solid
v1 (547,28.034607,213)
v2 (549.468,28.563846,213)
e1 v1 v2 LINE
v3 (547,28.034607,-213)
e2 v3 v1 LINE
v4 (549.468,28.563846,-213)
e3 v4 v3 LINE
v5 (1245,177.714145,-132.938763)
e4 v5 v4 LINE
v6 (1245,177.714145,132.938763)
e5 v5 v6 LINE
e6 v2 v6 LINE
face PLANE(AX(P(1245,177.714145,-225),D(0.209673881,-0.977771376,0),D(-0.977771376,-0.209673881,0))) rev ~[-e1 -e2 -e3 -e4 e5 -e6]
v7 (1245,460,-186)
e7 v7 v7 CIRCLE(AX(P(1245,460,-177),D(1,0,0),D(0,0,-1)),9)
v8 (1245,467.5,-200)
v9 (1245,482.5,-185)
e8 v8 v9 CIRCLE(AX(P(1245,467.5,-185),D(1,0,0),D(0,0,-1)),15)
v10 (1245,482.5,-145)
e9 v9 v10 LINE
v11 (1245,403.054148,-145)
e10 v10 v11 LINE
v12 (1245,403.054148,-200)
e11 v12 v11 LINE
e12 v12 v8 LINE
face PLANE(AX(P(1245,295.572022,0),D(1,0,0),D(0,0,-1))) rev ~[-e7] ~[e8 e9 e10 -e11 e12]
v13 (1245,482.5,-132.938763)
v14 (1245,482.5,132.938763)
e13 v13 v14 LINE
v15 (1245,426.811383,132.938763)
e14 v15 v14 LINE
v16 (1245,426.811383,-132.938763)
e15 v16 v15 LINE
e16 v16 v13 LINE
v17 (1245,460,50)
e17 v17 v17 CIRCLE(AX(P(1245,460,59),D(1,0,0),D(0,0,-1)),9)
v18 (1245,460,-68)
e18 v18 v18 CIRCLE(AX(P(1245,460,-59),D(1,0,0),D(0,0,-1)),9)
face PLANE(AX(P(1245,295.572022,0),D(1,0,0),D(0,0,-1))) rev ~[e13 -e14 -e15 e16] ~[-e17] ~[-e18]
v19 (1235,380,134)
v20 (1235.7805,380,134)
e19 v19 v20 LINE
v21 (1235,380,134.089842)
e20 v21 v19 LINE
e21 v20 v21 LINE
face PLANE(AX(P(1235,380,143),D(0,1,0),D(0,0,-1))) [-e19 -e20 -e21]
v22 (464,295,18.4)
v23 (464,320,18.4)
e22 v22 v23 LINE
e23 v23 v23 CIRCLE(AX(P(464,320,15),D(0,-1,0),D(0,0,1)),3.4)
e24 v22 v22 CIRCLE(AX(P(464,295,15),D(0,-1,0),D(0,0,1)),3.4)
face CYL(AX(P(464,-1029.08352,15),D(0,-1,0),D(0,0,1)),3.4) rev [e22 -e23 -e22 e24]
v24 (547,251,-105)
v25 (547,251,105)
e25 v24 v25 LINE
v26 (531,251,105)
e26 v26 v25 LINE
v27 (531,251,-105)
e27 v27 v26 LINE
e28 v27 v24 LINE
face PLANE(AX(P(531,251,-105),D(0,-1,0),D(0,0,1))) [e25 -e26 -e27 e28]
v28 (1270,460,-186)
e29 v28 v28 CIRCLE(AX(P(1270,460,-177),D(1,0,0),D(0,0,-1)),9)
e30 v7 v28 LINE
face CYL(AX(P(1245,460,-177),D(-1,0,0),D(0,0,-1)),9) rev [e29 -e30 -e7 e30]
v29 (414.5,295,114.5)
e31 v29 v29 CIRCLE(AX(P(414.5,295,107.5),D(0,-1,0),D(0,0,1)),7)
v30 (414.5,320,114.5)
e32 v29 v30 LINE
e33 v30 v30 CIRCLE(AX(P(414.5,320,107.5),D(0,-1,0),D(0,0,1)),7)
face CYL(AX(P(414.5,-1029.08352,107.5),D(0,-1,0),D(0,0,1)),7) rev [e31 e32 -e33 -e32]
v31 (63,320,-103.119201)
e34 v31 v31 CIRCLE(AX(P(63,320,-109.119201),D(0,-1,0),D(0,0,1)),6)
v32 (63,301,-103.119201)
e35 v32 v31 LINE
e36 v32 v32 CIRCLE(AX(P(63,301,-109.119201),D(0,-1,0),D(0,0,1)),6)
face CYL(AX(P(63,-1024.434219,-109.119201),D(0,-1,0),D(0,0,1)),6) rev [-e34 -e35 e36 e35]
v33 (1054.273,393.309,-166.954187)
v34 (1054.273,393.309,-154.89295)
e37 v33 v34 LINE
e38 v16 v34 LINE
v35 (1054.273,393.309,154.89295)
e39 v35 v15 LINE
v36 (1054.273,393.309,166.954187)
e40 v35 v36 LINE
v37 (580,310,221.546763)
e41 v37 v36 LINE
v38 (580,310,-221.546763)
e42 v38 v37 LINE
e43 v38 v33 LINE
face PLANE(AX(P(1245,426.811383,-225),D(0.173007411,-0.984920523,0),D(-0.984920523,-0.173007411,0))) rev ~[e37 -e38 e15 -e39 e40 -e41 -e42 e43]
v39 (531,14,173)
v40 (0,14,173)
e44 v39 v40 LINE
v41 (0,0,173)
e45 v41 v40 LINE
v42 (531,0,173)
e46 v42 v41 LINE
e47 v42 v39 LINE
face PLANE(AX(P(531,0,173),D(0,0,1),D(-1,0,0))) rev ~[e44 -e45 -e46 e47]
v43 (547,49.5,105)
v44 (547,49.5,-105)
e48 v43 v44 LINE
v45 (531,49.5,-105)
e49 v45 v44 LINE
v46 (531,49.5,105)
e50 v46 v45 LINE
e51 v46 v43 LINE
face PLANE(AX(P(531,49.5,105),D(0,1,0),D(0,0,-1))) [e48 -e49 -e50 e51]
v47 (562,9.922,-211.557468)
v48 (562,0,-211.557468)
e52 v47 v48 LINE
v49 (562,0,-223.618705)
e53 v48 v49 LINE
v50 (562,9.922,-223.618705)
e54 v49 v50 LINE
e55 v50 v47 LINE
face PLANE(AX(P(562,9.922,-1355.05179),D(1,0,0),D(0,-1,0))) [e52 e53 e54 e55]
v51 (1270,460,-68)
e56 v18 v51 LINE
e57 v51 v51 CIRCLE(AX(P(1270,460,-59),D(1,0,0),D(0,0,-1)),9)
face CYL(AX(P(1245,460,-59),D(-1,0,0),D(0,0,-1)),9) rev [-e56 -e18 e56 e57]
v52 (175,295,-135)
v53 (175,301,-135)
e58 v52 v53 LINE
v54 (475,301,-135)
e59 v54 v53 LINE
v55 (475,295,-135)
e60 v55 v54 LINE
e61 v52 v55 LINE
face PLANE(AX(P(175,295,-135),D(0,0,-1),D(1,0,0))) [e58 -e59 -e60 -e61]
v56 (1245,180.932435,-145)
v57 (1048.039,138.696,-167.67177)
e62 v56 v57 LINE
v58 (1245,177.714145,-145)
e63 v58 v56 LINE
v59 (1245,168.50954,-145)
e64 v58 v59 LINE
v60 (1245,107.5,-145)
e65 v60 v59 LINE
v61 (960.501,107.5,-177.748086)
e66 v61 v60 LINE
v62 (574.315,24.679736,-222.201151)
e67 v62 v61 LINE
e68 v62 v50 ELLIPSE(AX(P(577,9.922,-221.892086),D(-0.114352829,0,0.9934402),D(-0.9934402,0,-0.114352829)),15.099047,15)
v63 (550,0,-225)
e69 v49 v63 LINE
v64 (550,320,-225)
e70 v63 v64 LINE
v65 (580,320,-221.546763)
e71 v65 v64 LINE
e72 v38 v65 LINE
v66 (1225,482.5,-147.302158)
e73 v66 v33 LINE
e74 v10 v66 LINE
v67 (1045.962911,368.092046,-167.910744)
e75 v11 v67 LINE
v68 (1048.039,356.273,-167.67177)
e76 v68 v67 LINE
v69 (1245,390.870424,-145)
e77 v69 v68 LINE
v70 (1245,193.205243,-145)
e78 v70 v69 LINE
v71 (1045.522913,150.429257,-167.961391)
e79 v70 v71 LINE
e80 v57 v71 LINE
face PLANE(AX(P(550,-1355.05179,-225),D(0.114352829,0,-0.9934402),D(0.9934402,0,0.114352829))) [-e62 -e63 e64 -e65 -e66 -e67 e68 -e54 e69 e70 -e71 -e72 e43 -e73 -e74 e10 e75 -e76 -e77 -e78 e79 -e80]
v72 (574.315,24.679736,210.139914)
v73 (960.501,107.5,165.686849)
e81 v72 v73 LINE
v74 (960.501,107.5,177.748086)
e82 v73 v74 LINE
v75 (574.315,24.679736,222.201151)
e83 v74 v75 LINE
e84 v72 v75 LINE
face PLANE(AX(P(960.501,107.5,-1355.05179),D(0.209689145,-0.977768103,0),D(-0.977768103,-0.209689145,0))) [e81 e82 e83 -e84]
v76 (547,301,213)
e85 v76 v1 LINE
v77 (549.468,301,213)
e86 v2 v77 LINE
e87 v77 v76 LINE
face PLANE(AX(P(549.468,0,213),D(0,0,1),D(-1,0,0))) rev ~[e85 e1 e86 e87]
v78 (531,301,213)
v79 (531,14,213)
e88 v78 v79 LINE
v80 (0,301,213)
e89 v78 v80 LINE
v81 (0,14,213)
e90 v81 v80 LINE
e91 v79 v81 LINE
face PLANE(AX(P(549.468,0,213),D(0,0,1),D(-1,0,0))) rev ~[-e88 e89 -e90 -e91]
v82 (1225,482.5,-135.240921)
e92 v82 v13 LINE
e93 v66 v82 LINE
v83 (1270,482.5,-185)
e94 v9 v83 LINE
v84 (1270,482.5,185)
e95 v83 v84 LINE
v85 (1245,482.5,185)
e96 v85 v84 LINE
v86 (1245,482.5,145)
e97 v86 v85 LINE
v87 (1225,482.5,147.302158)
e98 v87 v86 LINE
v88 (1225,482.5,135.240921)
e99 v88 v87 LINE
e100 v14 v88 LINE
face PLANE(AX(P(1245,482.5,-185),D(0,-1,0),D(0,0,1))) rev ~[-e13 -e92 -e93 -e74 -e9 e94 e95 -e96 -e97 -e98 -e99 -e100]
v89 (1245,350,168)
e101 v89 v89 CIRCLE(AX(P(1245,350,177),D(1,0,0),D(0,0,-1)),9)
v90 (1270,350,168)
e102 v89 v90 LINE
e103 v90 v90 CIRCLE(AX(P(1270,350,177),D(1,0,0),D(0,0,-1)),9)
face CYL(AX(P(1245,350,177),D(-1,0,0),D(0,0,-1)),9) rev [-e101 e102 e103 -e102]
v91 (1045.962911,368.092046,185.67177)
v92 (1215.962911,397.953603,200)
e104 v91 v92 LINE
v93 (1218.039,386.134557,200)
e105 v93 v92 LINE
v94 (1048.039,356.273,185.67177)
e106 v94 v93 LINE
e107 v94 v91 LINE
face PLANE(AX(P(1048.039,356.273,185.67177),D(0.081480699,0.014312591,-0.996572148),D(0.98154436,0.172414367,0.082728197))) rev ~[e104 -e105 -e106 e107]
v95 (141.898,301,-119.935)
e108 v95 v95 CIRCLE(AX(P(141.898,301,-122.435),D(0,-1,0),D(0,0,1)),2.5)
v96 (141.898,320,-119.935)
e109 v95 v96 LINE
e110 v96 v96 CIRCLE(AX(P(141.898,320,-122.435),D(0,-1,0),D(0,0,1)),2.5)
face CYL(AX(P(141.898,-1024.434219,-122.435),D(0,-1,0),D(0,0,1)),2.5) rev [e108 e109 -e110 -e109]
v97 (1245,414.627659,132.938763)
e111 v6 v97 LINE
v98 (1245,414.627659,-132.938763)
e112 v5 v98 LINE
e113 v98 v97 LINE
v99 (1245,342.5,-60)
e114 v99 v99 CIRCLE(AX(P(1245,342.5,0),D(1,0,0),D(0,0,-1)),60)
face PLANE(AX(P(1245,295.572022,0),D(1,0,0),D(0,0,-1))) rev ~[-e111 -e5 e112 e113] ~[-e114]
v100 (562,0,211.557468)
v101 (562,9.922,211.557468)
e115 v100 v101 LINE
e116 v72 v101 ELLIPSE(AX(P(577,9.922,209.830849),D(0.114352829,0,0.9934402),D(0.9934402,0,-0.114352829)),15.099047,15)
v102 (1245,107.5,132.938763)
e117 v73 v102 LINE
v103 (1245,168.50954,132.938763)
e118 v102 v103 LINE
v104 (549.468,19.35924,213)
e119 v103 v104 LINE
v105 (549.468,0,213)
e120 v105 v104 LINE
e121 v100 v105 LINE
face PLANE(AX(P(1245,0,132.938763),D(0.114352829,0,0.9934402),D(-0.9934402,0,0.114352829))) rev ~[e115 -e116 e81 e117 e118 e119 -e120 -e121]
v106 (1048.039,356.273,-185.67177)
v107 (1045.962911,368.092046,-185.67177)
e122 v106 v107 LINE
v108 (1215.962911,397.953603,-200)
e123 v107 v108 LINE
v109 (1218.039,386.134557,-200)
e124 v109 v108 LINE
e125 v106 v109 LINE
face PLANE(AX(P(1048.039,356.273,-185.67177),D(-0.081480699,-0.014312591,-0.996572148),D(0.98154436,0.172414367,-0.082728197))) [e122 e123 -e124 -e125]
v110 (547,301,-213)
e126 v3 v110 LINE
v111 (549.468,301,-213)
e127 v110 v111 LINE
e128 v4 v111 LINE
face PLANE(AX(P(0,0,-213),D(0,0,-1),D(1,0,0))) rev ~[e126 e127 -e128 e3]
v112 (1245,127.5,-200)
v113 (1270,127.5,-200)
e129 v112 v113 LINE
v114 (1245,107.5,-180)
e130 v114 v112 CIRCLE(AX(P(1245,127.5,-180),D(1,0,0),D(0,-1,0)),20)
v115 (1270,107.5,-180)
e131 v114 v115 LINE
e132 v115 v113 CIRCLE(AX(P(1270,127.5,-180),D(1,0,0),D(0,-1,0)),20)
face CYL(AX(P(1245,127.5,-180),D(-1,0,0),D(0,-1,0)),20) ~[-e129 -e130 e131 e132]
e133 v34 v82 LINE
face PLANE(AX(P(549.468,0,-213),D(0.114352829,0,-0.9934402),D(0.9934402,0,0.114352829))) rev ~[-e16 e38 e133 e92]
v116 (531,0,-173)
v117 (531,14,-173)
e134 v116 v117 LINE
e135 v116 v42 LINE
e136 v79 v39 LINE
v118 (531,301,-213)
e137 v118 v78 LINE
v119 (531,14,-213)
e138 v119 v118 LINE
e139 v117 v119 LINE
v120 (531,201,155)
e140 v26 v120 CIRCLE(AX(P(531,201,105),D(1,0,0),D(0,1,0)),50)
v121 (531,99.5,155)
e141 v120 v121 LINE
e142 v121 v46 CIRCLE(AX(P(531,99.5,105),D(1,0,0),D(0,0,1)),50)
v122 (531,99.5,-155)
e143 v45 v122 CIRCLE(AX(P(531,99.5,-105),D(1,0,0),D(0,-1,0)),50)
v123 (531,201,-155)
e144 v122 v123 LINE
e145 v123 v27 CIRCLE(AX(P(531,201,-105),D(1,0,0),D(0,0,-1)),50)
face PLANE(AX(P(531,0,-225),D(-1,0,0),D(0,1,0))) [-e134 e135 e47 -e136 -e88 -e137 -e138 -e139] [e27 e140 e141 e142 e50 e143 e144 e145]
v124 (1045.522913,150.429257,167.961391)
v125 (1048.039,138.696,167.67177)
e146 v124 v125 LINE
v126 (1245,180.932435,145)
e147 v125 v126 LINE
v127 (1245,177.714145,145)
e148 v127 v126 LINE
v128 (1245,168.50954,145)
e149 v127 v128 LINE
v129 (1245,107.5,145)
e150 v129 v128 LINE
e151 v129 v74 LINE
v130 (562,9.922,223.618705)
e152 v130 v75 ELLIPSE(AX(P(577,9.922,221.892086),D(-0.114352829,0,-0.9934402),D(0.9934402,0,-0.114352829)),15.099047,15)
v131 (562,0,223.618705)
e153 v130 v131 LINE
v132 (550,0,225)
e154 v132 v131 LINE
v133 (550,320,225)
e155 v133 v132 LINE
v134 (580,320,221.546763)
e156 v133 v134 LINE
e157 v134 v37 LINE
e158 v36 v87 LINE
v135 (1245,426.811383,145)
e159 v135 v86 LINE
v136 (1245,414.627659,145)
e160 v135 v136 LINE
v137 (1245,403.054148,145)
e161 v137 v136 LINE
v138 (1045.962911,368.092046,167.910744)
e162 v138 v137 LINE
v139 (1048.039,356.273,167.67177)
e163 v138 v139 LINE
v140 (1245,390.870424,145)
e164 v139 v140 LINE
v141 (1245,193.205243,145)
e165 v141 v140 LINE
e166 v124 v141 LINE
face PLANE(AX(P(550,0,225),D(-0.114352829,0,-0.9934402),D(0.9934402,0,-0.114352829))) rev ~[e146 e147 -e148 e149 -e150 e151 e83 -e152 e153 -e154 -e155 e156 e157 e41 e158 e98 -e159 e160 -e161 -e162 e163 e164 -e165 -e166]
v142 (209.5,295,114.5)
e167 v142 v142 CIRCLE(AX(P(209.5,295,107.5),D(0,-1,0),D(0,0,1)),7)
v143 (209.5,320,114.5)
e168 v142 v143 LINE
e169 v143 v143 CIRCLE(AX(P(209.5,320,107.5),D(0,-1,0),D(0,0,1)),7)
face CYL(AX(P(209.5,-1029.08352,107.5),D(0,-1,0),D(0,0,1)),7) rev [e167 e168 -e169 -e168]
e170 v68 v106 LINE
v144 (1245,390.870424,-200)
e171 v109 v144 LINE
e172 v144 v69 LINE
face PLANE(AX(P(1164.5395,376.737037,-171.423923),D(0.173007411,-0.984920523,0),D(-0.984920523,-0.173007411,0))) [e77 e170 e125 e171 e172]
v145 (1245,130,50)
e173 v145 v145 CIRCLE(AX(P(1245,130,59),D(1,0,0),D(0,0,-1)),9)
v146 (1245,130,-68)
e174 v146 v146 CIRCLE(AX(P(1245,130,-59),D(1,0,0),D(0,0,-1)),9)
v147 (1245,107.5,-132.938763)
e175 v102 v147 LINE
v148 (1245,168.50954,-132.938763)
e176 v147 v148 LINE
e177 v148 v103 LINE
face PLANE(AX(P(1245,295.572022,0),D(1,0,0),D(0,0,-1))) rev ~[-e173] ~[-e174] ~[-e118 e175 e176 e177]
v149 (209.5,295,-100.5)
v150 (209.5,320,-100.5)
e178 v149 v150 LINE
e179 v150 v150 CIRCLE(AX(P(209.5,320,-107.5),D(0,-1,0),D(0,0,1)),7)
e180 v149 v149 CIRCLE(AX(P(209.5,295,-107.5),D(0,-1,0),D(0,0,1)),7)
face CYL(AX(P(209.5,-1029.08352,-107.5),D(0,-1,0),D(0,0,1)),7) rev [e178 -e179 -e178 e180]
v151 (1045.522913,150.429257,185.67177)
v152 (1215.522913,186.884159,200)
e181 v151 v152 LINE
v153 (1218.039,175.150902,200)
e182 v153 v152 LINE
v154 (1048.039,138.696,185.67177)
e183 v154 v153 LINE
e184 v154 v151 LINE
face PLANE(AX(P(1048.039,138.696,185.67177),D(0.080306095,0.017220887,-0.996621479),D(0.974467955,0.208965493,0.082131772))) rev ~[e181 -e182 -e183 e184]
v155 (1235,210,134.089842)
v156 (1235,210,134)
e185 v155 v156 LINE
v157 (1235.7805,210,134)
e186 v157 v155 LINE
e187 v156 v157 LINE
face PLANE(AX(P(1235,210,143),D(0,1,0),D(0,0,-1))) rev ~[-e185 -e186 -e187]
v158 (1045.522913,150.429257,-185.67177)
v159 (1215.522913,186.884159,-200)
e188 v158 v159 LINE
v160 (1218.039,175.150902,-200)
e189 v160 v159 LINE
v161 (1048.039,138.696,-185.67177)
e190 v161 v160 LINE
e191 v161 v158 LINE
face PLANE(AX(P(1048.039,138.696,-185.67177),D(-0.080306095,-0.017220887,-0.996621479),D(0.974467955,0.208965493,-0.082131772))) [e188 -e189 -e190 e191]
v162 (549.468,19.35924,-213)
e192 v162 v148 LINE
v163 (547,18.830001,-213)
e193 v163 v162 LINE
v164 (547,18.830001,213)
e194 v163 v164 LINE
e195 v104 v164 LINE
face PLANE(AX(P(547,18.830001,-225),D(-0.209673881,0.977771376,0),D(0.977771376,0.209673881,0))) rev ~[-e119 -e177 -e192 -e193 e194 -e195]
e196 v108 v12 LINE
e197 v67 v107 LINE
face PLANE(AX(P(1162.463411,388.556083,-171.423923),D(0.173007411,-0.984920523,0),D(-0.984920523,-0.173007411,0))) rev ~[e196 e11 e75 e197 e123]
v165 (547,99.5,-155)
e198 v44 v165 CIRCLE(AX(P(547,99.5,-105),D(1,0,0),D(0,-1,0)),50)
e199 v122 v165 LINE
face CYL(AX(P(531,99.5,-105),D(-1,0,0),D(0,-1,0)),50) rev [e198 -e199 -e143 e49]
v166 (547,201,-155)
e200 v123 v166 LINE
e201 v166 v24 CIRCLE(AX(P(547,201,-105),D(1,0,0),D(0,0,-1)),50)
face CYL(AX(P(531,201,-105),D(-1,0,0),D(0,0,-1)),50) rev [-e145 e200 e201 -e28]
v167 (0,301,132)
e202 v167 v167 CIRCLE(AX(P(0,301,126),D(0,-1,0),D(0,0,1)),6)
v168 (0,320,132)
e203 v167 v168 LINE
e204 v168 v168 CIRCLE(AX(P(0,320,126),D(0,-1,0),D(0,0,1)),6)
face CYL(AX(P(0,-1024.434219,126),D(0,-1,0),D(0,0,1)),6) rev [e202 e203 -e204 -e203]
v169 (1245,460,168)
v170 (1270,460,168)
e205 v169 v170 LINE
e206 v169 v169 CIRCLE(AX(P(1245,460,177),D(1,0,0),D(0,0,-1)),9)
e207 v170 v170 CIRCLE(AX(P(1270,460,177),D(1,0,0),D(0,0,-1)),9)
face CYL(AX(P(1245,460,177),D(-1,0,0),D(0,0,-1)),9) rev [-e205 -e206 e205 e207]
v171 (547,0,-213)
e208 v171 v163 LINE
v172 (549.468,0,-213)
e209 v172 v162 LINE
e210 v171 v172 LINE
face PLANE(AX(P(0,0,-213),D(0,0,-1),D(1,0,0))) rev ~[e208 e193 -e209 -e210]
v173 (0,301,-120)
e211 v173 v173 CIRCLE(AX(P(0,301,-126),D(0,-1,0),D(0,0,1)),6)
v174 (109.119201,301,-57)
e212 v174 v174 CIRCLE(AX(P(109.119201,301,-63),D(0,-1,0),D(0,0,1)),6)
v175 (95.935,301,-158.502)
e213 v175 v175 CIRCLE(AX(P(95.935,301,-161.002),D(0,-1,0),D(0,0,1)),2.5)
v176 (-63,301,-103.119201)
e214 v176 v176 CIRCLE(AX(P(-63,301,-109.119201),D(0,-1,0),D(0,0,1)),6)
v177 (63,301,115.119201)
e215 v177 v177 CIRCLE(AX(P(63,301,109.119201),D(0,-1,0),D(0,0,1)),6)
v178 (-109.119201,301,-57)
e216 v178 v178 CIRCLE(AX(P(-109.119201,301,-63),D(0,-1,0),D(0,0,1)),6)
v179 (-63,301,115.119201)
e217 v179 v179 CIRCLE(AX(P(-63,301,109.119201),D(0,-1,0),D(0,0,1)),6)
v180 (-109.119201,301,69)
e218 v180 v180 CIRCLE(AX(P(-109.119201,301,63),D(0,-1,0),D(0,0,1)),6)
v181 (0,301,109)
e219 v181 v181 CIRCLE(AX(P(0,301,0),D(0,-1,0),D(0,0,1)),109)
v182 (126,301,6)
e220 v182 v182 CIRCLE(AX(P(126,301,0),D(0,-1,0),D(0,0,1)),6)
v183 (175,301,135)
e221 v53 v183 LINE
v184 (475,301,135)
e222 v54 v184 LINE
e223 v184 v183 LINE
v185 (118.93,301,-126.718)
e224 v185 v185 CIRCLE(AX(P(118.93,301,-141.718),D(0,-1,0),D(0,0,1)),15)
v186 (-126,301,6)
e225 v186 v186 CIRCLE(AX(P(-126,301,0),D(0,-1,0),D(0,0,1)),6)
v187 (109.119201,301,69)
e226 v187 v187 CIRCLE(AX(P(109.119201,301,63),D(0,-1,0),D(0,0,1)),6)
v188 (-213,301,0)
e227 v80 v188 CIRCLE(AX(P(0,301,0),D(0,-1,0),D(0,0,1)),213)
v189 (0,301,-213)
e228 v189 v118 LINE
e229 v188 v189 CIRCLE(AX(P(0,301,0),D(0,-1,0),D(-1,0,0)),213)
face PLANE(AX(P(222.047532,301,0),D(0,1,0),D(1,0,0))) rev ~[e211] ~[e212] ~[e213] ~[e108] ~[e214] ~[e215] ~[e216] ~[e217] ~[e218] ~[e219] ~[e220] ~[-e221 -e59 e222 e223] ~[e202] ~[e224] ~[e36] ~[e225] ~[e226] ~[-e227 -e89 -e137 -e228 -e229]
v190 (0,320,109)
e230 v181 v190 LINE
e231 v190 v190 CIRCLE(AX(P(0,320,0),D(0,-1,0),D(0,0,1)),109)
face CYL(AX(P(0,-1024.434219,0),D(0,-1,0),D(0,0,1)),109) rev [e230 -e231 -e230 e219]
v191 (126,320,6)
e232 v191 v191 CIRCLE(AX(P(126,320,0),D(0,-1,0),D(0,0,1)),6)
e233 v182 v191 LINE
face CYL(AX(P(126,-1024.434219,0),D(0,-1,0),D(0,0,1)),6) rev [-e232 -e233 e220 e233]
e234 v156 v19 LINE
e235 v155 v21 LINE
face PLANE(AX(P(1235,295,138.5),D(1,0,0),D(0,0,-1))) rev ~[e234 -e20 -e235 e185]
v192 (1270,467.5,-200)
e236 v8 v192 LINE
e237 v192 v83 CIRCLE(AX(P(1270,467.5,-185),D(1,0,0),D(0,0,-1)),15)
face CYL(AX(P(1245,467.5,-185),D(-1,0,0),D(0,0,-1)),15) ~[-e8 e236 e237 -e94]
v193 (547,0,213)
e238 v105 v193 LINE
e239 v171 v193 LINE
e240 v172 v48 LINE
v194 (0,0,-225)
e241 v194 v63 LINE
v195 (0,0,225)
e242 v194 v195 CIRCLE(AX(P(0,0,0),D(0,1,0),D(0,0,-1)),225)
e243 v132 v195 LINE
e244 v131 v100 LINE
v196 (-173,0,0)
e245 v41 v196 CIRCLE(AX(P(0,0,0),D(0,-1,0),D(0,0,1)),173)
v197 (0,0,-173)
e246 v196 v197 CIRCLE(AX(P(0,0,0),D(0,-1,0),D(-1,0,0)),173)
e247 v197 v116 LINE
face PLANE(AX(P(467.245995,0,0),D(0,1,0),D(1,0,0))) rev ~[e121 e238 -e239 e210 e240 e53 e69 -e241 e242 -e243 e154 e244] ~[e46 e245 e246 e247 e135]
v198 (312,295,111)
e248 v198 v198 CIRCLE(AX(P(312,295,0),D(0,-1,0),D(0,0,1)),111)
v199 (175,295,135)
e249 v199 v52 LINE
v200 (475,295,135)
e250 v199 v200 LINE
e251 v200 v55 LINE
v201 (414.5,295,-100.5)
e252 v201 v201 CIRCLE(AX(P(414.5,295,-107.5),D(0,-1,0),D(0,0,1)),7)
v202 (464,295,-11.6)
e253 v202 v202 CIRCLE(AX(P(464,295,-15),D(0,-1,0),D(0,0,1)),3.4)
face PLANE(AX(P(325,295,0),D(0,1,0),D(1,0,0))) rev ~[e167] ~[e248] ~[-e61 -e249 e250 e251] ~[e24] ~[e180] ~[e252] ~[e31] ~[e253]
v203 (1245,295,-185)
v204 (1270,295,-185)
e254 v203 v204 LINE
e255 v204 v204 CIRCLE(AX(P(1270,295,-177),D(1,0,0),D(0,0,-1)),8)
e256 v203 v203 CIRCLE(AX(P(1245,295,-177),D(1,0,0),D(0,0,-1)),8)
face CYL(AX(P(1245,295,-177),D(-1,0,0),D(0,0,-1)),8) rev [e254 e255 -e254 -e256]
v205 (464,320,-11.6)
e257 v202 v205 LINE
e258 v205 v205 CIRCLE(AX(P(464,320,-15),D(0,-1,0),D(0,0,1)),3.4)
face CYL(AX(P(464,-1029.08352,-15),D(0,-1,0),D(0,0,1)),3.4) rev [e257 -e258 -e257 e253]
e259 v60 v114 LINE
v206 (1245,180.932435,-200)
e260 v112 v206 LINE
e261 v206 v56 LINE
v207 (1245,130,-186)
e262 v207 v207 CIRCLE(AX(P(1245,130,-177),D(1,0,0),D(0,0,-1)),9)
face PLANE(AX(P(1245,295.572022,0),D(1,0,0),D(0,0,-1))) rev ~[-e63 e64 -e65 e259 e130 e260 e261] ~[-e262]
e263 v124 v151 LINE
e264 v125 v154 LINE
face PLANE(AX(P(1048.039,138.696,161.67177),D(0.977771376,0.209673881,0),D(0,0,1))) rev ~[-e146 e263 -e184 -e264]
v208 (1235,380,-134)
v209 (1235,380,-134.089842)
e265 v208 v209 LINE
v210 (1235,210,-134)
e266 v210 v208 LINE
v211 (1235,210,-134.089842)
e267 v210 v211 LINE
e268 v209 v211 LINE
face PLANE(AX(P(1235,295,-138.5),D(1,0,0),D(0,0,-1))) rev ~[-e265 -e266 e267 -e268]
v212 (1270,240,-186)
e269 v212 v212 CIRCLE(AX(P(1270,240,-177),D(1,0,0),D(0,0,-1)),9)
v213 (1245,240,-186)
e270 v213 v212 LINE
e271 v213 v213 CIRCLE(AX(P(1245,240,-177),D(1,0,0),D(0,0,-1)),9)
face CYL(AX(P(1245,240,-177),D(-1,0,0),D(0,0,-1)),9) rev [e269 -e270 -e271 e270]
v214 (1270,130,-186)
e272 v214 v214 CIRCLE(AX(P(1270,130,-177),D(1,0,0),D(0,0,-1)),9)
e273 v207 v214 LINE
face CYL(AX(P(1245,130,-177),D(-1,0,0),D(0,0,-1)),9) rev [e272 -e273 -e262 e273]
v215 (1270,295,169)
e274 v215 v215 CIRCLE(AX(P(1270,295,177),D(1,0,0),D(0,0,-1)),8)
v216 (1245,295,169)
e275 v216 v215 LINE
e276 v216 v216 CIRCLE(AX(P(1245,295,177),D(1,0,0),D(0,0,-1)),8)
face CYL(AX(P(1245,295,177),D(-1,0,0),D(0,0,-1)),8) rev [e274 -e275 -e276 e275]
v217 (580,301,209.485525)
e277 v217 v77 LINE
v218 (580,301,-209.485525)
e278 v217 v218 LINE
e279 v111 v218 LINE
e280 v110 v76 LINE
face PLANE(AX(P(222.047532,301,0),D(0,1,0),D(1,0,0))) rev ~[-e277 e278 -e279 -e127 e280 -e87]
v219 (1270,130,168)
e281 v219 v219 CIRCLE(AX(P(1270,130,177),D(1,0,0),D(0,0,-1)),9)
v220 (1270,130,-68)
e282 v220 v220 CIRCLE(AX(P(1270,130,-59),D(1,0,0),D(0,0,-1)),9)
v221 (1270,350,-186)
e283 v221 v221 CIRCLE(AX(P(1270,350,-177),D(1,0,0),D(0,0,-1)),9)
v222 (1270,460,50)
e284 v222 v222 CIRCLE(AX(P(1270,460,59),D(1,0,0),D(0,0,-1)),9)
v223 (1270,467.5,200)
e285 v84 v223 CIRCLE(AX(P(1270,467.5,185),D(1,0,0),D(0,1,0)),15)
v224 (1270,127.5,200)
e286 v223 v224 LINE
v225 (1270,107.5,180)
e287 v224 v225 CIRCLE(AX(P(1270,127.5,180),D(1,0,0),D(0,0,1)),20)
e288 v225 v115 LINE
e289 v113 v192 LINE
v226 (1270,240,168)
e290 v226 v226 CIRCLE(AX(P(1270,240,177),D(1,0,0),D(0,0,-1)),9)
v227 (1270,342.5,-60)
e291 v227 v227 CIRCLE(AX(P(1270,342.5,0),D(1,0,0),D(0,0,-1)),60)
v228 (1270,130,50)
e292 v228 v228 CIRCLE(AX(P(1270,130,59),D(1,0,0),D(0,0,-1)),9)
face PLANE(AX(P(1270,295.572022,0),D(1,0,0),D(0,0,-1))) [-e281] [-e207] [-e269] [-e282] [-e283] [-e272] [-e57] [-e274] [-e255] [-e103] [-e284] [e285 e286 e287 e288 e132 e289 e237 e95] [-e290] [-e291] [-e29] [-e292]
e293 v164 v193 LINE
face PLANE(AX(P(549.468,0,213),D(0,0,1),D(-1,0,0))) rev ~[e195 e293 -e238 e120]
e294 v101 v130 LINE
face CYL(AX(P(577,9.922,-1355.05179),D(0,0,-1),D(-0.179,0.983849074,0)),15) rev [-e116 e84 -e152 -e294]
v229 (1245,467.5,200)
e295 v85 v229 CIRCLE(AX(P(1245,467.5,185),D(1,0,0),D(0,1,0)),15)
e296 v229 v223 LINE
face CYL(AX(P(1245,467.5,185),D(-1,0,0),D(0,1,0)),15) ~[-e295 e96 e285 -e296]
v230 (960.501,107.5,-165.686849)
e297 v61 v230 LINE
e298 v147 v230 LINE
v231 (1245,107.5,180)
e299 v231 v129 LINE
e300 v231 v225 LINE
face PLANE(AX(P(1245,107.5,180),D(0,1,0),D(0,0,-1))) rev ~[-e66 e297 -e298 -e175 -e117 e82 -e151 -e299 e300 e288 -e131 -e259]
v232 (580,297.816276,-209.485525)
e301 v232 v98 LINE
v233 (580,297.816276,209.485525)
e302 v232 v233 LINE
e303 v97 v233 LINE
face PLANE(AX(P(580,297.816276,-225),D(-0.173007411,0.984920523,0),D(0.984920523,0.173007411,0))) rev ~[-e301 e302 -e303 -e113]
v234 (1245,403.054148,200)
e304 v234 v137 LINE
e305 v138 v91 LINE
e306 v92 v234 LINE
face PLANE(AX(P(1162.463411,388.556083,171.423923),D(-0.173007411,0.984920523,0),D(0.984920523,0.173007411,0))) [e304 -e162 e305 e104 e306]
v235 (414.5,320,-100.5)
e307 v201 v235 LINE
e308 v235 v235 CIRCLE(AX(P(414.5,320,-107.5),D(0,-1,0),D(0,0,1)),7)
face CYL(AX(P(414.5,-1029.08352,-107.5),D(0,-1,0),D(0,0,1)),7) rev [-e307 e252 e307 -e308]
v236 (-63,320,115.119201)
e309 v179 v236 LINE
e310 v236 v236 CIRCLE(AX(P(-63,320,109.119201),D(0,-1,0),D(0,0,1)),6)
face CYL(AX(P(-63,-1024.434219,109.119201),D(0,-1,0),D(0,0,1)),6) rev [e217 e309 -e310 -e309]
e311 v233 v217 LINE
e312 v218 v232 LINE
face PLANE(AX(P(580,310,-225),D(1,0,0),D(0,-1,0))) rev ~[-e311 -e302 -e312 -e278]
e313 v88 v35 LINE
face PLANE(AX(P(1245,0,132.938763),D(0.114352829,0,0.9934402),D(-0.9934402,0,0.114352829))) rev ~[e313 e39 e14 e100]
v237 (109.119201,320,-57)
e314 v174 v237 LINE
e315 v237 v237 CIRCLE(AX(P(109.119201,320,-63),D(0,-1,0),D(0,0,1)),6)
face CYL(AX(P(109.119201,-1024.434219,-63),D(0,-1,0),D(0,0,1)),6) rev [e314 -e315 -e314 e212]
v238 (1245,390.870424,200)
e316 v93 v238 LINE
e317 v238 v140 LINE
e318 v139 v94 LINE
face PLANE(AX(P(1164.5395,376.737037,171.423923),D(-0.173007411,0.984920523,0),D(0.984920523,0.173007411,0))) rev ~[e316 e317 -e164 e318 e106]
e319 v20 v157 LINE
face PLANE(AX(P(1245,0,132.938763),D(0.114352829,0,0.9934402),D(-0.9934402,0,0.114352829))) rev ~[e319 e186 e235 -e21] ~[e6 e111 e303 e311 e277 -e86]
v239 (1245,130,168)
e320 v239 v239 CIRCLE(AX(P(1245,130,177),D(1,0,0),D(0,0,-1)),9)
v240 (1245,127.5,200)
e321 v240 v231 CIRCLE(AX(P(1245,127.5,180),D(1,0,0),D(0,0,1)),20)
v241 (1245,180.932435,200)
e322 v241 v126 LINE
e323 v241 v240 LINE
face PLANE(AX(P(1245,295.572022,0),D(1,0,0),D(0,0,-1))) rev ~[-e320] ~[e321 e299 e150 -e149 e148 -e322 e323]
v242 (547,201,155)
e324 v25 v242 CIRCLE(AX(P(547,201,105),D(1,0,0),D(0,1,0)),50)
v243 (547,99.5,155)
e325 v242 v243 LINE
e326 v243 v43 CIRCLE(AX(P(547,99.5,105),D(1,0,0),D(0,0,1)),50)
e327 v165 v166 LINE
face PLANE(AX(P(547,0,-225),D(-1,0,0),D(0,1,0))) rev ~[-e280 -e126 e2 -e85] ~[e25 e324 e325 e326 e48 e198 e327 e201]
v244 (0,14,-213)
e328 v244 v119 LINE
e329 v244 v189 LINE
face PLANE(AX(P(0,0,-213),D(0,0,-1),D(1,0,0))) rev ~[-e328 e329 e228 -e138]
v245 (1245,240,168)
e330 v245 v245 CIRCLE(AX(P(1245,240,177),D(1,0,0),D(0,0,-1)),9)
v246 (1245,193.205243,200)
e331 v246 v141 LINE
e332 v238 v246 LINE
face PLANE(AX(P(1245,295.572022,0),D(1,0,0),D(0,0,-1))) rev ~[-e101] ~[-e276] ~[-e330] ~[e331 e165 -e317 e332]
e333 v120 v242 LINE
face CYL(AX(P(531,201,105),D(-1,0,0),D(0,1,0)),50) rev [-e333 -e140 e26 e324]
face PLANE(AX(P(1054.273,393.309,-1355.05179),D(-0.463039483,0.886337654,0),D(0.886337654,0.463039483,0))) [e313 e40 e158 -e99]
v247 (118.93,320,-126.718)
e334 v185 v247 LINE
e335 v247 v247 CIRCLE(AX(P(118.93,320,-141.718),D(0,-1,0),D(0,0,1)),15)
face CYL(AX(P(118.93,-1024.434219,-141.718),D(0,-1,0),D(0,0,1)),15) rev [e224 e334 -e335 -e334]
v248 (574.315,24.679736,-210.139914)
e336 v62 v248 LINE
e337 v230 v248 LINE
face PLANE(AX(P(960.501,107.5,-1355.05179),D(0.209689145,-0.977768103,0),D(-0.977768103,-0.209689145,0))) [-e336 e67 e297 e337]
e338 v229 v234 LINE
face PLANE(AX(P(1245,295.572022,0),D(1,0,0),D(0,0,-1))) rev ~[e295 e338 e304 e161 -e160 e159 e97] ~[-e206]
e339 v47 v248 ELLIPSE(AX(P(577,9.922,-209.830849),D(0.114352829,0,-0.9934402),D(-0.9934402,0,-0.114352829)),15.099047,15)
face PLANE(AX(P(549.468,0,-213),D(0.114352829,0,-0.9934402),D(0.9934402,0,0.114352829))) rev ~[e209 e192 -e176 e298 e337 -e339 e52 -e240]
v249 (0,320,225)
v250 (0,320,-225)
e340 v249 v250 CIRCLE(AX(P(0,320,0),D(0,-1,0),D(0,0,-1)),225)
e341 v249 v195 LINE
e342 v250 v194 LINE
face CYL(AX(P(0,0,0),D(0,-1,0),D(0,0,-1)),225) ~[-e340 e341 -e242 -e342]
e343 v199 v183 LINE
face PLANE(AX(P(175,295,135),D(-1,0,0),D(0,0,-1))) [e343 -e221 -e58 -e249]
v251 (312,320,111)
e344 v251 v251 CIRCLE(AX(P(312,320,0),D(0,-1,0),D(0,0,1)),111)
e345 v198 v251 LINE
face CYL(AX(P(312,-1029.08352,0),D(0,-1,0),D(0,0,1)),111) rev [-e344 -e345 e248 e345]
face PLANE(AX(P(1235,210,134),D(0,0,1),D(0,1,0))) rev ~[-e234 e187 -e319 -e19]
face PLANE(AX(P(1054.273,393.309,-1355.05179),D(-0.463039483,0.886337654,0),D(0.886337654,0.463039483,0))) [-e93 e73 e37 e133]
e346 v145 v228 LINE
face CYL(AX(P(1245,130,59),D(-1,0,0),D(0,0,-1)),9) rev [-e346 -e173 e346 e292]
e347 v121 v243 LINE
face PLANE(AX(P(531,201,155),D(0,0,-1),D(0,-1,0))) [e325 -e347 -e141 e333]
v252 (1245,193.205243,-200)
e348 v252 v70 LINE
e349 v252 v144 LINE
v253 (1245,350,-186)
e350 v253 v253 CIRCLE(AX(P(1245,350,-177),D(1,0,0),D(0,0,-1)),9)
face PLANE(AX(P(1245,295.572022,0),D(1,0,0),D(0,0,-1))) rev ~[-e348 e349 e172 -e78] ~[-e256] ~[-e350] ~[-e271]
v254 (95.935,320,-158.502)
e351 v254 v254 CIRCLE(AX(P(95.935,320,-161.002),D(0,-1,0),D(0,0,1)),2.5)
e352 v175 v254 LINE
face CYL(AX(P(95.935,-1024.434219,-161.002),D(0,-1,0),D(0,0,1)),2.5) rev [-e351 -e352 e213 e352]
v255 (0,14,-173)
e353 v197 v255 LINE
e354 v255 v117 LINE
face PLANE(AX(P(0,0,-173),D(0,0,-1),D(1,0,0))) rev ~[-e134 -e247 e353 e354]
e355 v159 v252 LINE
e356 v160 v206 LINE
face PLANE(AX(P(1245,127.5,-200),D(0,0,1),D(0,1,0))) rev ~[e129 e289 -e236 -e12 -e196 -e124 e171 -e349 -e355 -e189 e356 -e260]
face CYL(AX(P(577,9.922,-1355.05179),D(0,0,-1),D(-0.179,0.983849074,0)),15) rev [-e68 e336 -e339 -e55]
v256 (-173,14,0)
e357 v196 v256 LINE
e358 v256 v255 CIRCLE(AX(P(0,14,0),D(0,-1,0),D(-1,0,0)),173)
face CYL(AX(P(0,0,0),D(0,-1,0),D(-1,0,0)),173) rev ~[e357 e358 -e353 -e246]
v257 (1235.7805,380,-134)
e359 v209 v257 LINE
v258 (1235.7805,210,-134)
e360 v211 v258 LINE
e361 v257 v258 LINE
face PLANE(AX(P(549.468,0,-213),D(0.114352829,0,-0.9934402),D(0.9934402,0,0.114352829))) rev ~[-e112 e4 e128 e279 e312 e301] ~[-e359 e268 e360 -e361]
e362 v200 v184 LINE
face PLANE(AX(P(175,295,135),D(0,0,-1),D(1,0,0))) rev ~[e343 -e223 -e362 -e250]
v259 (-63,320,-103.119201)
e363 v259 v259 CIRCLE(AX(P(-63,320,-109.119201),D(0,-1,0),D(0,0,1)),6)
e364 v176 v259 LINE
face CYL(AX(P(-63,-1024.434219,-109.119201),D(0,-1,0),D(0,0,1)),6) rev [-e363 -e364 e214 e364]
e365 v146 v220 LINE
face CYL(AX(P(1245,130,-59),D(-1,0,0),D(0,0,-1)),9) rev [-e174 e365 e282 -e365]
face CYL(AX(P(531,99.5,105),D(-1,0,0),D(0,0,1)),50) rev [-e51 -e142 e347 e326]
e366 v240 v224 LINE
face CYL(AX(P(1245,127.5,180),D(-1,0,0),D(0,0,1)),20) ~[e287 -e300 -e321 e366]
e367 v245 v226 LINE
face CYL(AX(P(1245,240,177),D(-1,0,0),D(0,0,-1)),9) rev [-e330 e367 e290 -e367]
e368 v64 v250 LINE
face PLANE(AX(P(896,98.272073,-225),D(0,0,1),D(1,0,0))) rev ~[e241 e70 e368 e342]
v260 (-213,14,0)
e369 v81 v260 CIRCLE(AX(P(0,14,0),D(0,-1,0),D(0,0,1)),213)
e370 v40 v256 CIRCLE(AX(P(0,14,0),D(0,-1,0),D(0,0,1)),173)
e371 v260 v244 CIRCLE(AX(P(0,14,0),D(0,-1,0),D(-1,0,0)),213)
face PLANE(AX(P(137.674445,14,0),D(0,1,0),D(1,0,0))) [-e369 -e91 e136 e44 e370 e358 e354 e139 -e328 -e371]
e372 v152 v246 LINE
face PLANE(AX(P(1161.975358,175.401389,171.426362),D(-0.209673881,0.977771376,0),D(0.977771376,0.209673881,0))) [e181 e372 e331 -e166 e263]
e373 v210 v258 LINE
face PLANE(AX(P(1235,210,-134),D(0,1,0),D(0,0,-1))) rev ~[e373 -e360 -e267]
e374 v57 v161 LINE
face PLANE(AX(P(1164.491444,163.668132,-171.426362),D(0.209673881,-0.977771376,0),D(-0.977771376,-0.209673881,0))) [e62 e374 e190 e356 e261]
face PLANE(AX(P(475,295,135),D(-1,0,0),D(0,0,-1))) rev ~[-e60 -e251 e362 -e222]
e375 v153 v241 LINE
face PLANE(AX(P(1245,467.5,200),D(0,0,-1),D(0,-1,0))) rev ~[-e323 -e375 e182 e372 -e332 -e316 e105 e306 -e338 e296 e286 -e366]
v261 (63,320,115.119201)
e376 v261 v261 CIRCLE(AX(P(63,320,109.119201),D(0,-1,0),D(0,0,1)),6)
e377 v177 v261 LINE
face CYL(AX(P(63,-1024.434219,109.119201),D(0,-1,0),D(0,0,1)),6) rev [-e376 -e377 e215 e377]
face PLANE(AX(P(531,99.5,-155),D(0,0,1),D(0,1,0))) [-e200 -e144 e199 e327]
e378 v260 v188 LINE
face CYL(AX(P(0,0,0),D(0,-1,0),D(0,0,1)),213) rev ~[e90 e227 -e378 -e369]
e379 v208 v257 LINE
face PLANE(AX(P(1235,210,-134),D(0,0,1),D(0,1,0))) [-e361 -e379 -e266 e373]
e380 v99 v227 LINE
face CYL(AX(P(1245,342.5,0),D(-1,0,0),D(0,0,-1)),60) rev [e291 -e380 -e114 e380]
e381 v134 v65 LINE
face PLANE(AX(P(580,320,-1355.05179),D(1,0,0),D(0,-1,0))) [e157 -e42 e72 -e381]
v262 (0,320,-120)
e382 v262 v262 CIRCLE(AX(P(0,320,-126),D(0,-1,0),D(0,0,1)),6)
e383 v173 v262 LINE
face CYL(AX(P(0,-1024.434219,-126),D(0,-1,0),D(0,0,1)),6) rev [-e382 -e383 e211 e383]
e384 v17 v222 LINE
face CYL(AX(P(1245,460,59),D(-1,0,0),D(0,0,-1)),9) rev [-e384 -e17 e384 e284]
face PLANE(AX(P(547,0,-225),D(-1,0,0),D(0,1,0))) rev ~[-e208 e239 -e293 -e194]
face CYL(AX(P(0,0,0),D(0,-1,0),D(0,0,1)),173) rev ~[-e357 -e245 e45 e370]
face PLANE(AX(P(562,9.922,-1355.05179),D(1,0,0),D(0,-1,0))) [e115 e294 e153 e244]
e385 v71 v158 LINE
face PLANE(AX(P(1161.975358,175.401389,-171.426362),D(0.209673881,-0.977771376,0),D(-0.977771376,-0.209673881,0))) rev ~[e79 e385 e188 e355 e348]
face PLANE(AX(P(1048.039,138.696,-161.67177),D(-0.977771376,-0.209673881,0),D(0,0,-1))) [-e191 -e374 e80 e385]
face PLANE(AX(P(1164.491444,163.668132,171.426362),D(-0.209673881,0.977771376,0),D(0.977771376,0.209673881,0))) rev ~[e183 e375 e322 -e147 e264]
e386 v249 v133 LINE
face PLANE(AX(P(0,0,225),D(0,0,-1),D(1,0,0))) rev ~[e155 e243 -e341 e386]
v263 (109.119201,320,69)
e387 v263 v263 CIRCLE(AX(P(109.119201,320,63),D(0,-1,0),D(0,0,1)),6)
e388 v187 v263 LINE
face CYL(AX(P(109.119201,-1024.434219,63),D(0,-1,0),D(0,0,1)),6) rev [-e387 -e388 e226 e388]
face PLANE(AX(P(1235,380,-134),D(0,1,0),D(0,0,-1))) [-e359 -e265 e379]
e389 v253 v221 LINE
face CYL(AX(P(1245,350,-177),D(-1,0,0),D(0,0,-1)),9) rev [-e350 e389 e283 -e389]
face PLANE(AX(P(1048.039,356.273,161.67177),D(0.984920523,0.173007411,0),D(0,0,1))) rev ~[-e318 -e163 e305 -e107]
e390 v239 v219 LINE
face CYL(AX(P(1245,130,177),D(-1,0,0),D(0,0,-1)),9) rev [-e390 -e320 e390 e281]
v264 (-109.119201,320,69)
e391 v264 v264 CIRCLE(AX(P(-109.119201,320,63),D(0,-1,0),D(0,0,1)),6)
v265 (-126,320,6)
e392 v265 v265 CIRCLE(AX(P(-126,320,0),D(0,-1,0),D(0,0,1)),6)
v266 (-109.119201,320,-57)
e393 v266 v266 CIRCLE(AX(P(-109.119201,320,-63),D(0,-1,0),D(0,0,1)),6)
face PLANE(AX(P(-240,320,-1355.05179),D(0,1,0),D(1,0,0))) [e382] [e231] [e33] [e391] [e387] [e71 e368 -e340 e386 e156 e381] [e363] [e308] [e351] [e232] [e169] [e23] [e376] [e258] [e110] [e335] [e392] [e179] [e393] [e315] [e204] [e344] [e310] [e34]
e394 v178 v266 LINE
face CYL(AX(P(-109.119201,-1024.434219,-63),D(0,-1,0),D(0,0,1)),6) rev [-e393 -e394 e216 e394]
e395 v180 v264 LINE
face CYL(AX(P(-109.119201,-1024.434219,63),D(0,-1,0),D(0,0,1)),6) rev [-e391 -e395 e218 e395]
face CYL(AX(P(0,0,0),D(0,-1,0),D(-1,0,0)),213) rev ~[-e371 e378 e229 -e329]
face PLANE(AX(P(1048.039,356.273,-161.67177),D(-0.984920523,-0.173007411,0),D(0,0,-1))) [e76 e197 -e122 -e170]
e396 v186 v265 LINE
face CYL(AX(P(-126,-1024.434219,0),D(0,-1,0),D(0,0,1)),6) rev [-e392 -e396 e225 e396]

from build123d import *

# Parameters (mm, degrees)
EXTRUDE_1_DEPTH           = 482.5
CUT_EXTRUDE_1_DEPTH       = 1355.051789999
CUT_EXTRUDE_1_DEPTH_BACK  = 1355.051789999
CUT_EXTRUDE_2_DEPTH       = 1355.051789999
CUT_EXTRUDE_2_DEPTH_BACK  = 1355.051789999
EXTRUDE_2_DEPTH           = 19
SKETCH_9_W                = 300
SKETCH_9_H                = 270
EXTRUDE_3_DEPTH           = 7
EXTRUDE_5_DEPTH           = 14
EXTRUDE_6_DEPTH           = 225
EXTRUDE_6_DEPTH_BACK      = 225
SKETCH_15_W               = 16
SKETCH_15_H               = 301
CUT_EXTRUDE_4_DEPTH       = 16
EXTRUDE_7_DEPTH           = 225
EXTRUDE_7_DEPTH_BACK      = 225
EXTRUDE_8_DEPTH           = 225
EXTRUDE_8_DEPTH_BACK      = 225
CUT_EXTRUDE_5_DEPTH       = 1355.051789999
CUT_EXTRUDE_5_DEPTH_BACK  = 1355.051789999
EXTRUDE_22_DEPTH          = 12
EXTRUDE_23_DEPTH          = 12
SKETCH_57_W               = 9
SKETCH_57_H               = 170
EXTRUDE_24_DEPTH          = 35
EXTRUDE_25_DEPTH          = 25
CUT_EXTRUDE_6_DEPTH       = 1325.434218827
CUT_EXTRUDE_6_DEPTH_BACK  = 1325.434218827
SKETCH_59_R               = 109
CUT_EXTRUDE_7_DEPTH       = 1325.434218827
CUT_EXTRUDE_7_DEPTH_BACK  = 1325.434218827
SKETCH_60_R               = 6
CUT_EXTRUDE_8_DEPTH       = 1325.434218827
CUT_EXTRUDE_8_DEPTH_BACK  = 1325.434218827
SKETCH_61_R               = 15
CUT_EXTRUDE_9_DEPTH       = 1325.434218827
CUT_EXTRUDE_9_DEPTH_BACK  = 1325.434218827
SKETCH_62_R               = 2.5
CUT_EXTRUDE_10_DEPTH      = 1324.083519662
CUT_EXTRUDE_10_DEPTH_BACK = 1324.083519662
SKETCH_63_R               = 111
CUT_EXTRUDE_11_DEPTH      = 1324.083519662
CUT_EXTRUDE_11_DEPTH_BACK = 1324.083519662
SKETCH_64_R               = 7
CUT_EXTRUDE_12_DEPTH      = 1324.083519662
CUT_EXTRUDE_12_DEPTH_BACK = 1324.083519662
SKETCH_65_R               = 3.4
SKETCH_67_R               = 9
CUT_EXTRUDE_14_DEPTH      = 25
SKETCH_69_R               = 8
CUT_EXTRUDE_16_DEPTH      = 25
SKETCH_71_R               = 60
CUT_EXTRUDE_18_DEPTH      = 25


with BuildPart() as part:
    # ｽｹｯﾁ1 → ﾎﾞｽ - 押し出し1 (new body)
    with BuildSketch(Plane(origin=(0, 0, 0), x_dir=(1, 0, 0), z_dir=(0, 1, 0))):
        with BuildLine():
            Line((1245, 145), (550, 225))
            Line((550, 225), (0, 225))
            ThreePointArc((0, 225), (-159.099025767, 159.099025767), (-225, 0))
            ThreePointArc((-225, 0), (-159.099025767, -159.099025767), (0, -225))
            Line((0, -225), (550, -225))
            Line((550, -225), (1245, -145))
            Line((1245, -145), (1245, -132.93876259))
            Line((1245, -132.93876259), (549.468, -213))
            Line((549.468, -213), (0, -213))
            ThreePointArc((0, -213), (-150.613744393, -150.613744393), (-213, 0))
            ThreePointArc((-213, 0), (-150.613744393, 150.613744393), (0, 213))
            Line((0, 213), (549.468, 213))
            Line((549.468, 213), (1245, 132.93876259))
            Line((1245, 132.93876259), (1245, 145))
        make_face()
    extrude(amount=EXTRUDE_1_DEPTH)

    # ｽｹｯﾁ2 → ｶｯﾄ - 押し出し1 (cut, two sides: drawn at the far end of the back side and taken through both)
    with BuildSketch(Plane.XY.offset(-CUT_EXTRUDE_1_DEPTH_BACK)):
        Polygon((-240, 500), (-240, 320), (580, 320), (580, 310), (1054.273, 393.309), (1225, 482.5), (1280, 482.5), (1280, 500), align=None)
    extrude(amount=CUT_EXTRUDE_1_DEPTH + CUT_EXTRUDE_1_DEPTH_BACK, mode=Mode.SUBTRACT)

    # ｽｹｯﾁ3 → ｶｯﾄ - 押し出し2 (cut, two sides: drawn at the far end of the back side and taken through both)
    with BuildSketch(Plane.XY.offset(-CUT_EXTRUDE_2_DEPTH_BACK)):
        with BuildLine():
            Line((562, -10), (1280, -10))
            Line((1280, -10), (1280, 107.5))
            Line((1280, 107.5), (960.501, 107.5))
            Line((960.501, 107.5), (574.315, 24.679736107))
            ThreePointArc((574.315, 24.679736107), (565.483164497, 19.532541088), (562, 9.922))
            Line((562, 9.922), (562, -10))
        make_face()
    extrude(amount=CUT_EXTRUDE_2_DEPTH + CUT_EXTRUDE_2_DEPTH_BACK, mode=Mode.SUBTRACT)

    # ｽｹｯﾁ6 → ﾎﾞｽ - 押し出し2 (add)
    with BuildSketch(Plane(origin=(0, 301, 0), x_dir=(1, 0, 0), z_dir=(0, 1, 0))):
        with BuildLine():
            Line((580, 221.54676259), (550, 225))
            Line((550, 225), (0, 225))
            ThreePointArc((0, 225), (-159.099025767, 159.099025767), (-225, 0))
            ThreePointArc((-225, 0), (-159.099025767, -159.099025767), (0, -225))
            Line((0, -225), (550, -225))
            Line((550, -225), (580, -221.54676259))
            Line((580, -221.54676259), (580, 221.54676259))
        make_face()
    extrude(amount=EXTRUDE_2_DEPTH)

    # ｽｹｯﾁ9 → ﾎﾞｽ - 押し出し3 (add)
    with BuildSketch(Plane(origin=(0, 295, 0), x_dir=(1, 0, 0), z_dir=(0, 1, 0))):
        with Locations((325, 0)):
            Rectangle(SKETCH_9_W, SKETCH_9_H)
    extrude(amount=EXTRUDE_3_DEPTH)

    # ｽｹｯﾁ13 → ﾎﾞｽ - 押し出し5 (add)
    with BuildSketch(Plane(origin=(0, 0, 0), x_dir=(1, 0, 0), z_dir=(0, 1, 0))):
        with BuildLine():
            Line((531, 225), (0, 225))
            ThreePointArc((0, 225), (-159.099025767, 159.099025767), (-225, 0))
            ThreePointArc((-225, 0), (-159.099025767, -159.099025767), (0, -225))
            Line((0, -225), (531, -225))
            Line((531, -225), (531, -173))
            Line((531, -173), (0, -173))
            ThreePointArc((0, -173), (-122.329473145, -122.329473145), (-173, 0))
            ThreePointArc((-173, 0), (-122.329473145, 122.329473145), (0, 173))
            Line((0, 173), (531, 173))
            Line((531, 173), (531, 225))
        make_face()
    extrude(amount=EXTRUDE_5_DEPTH)

    # ｽｹｯﾁ15 → ﾎﾞｽ - 押し出し6 (add, two sides: drawn at the far end of the back side and taken through both)
    with BuildSketch(Plane.XY.offset(-EXTRUDE_6_DEPTH_BACK)):
        with Locations((539, 150.5)):
            Rectangle(SKETCH_15_W, SKETCH_15_H)
    extrude(amount=EXTRUDE_6_DEPTH + EXTRUDE_6_DEPTH_BACK)

    # ｽｹｯﾁ17 → ｶｯﾄ - 押し出し4 (cut)
    with BuildSketch(Plane(origin=(531, 0, 0), x_dir=(0, 0, -1), z_dir=(1, 0, 0))):
        with BuildLine():
            Line((155, 99.5), (155, 201))
            ThreePointArc((155, 201), (140.355339059, 236.355339059), (105, 251))
            Line((105, 251), (-105, 251))
            ThreePointArc((-105, 251), (-140.355339059, 236.355339059), (-155, 201))
            Line((-155, 201), (-155, 99.5))
            ThreePointArc((-155, 99.5), (-140.355339059, 64.144660941), (-105, 49.5))
            Line((-105, 49.5), (105, 49.5))
            ThreePointArc((105, 49.5), (140.355339059, 64.144660941), (155, 99.5))
        make_face()
    extrude(amount=CUT_EXTRUDE_4_DEPTH, mode=Mode.SUBTRACT)

    # ｽｹｯﾁ18 → ﾎﾞｽ - 押し出し7 (add, two sides: drawn at the far end of the back side and taken through both)
    with BuildSketch(Plane.XY.offset(-EXTRUDE_7_DEPTH_BACK)):
        Polygon((580, 297.816275806), (1245, 414.627658701), (1245, 426.811382896), (580, 310), align=None)
    extrude(amount=EXTRUDE_7_DEPTH + EXTRUDE_7_DEPTH_BACK)

    # ｽｹｯﾁ19 → ﾎﾞｽ - 押し出し8 (add, two sides: drawn at the far end of the back side and taken through both)
    with BuildSketch(Plane.XY.offset(-EXTRUDE_8_DEPTH_BACK)):
        Polygon((547, 18.83000083), (1245, 168.50953963), (1245, 177.714145349), (547, 28.034606549), align=None)
    extrude(amount=EXTRUDE_8_DEPTH + EXTRUDE_8_DEPTH_BACK)

    # ｽｹｯﾁ20 → ｶｯﾄ - 押し出し5 (cut, two sides: drawn at the far end of the back side and taken through both)
    with BuildSketch(Plane(origin=(0, 0, 0), x_dir=(1, 0, 0), z_dir=(0, 1, 0)).offset(-CUT_EXTRUDE_5_DEPTH_BACK)):
        Polygon((550, 225), (1250, 144.424460432), (1250, 245), (550, 245), align=None)
        Polygon((550, -225), (1250, -144.424460432), (1250, -245), (550, -245), align=None)
    extrude(amount=CUT_EXTRUDE_5_DEPTH + CUT_EXTRUDE_5_DEPTH_BACK, mode=Mode.SUBTRACT)

    # ｽｹｯﾁ51 → ﾎﾞｽ - 押し出し22 (add)
    with BuildSketch(Plane(origin=(-29.338955803, 167.024866288, 0), x_dir=(0.9849205225581176, 0.1730074109506429, 0), z_dir=(-0.1730074109506429, 0.9849205225581176, 0))):
        Polygon((1093.872988863, 161.671769784), (1093.872988863, 185.671769784), (1266.47574828, 200), (1314.155737603, 200), (1314.155737603, 136.697841727), align=None)
        Polygon((1093.872988863, -161.671769784), (1093.872988863, -185.671769784), (1266.47574828, -200), (1314.155737603, -200), (1314.155737603, -136.697841727), align=None)
    extrude(amount=EXTRUDE_22_DEPTH)

    # ｽｹｯﾁ54 → ﾎﾞｽ - 押し出し23 (add)
    with BuildSketch(Plane(origin=(17.64058177, -82.263255044, 0), x_dir=(-0.9777713760477191, -0.20967388054249855, 0), z_dir=(0.20967388054249853, -0.977771376047719, 0))):
        Polygon((-1053.823463717, 161.671769784), (-1053.823463717, 185.671769784), (-1227.688238413, 200), (-1275.716848321, 200), (-1275.716848321, 136.697841727), align=None)
        Polygon((-1053.823463717, -161.671769784), (-1053.823463717, -185.671769784), (-1227.688238413, -200), (-1275.716848321, -200), (-1275.716848321, -136.697841727), align=None)
    extrude(amount=-EXTRUDE_23_DEPTH)

    # ｽｹｯﾁ57 → ﾎﾞｽ - 押し出し24 (add)
    with BuildSketch(Plane(origin=(1235, 0, 0), x_dir=(0, 0, -1), z_dir=(1, 0, 0))):
        with Locations((138.5, 295)):
            Rectangle(SKETCH_57_W, SKETCH_57_H)
        with Locations((-138.5, 295)):
            Rectangle(SKETCH_57_W, SKETCH_57_H)
    extrude(amount=EXTRUDE_24_DEPTH)

    # ｽｹｯﾁ58 → ﾎﾞｽ - 押し出し25 (add)
    with BuildSketch(Plane(origin=(1245, 0, 0), x_dir=(0, 0, -1), z_dir=(1, 0, 0))):
        with BuildLine():
            Line((200, 127.5), (200, 467.5))
            ThreePointArc((200, 467.5), (195.606601718, 478.106601718), (185, 482.5))
            Line((185, 482.5), (-185, 482.5))
            ThreePointArc((-185, 482.5), (-195.606601718, 478.106601718), (-200, 467.5))
            Line((-200, 467.5), (-200, 127.5))
            ThreePointArc((-200, 127.5), (-194.142135624, 113.357864376), (-180, 107.5))
            Line((-180, 107.5), (180, 107.5))
            ThreePointArc((180, 107.5), (194.142135624, 113.357864376), (200, 127.5))
        make_face()
    extrude(amount=EXTRUDE_25_DEPTH)

    # ｽｹｯﾁ59 → ｶｯﾄ - 押し出し6 (cut, two sides: drawn at the far end of the back side and taken through both)
    with BuildSketch(Plane(origin=(0, 301, 0), x_dir=(1, 0, 0), z_dir=(0, 1, 0)).offset(-CUT_EXTRUDE_6_DEPTH_BACK)):
        with Locations(Location((0, 0, 0), (0, 0, 270))):
            Circle(SKETCH_59_R)
    extrude(amount=CUT_EXTRUDE_6_DEPTH + CUT_EXTRUDE_6_DEPTH_BACK, mode=Mode.SUBTRACT)

    # ｽｹｯﾁ60 → ｶｯﾄ - 押し出し7 (cut, two sides: drawn at the far end of the back side and taken through both)
    with BuildSketch(Plane(origin=(0, 301, 0), x_dir=(1, 0, 0), z_dir=(0, 1, 0)).offset(-CUT_EXTRUDE_7_DEPTH_BACK)):
        with Locations(Location((126, 0, 0), (0, 0, 270))):
            Circle(SKETCH_60_R)
        with Locations(Location((109.119200877, 63, 0), (0, 0, 270))):
            Circle(SKETCH_60_R)
        with Locations(Location((63, 109.119200877, 0), (0, 0, 270))):
            Circle(SKETCH_60_R)
        with Locations(Location((0, 126, 0), (0, 0, 270))):
            Circle(SKETCH_60_R)
        with Locations(Location((-63, 109.119200877, 0), (0, 0, 270))):
            Circle(SKETCH_60_R)
        with Locations(Location((-109.119200877, 63, 0), (0, 0, 270))):
            Circle(SKETCH_60_R)
        with Locations(Location((-126, 0, 0), (0, 0, 270))):
            Circle(SKETCH_60_R)
        with Locations(Location((-109.119200877, -63, 0), (0, 0, 270))):
            Circle(SKETCH_60_R)
        with Locations(Location((-63, -109.119200877, 0), (0, 0, 270))):
            Circle(SKETCH_60_R)
        with Locations(Location((0, -126, 0), (0, 0, 270))):
            Circle(SKETCH_60_R)
        with Locations(Location((63, -109.119200877, 0), (0, 0, 270))):
            Circle(SKETCH_60_R)
        with Locations(Location((109.119200877, -63, 0), (0, 0, 270))):
            Circle(SKETCH_60_R)
    extrude(amount=CUT_EXTRUDE_7_DEPTH + CUT_EXTRUDE_7_DEPTH_BACK, mode=Mode.SUBTRACT)

    # ｽｹｯﾁ61 → ｶｯﾄ - 押し出し8 (cut, two sides: drawn at the far end of the back side and taken through both)
    with BuildSketch(Plane(origin=(0, 301, 0), x_dir=(1, 0, 0), z_dir=(0, 1, 0)).offset(-CUT_EXTRUDE_8_DEPTH_BACK)):
        with Locations(Location((118.93, 141.718, 0), (0, 0, 270))):
            Circle(SKETCH_61_R)
    extrude(amount=CUT_EXTRUDE_8_DEPTH + CUT_EXTRUDE_8_DEPTH_BACK, mode=Mode.SUBTRACT)

    # ｽｹｯﾁ62 → ｶｯﾄ - 押し出し9 (cut, two sides: drawn at the far end of the back side and taken through both)
    with BuildSketch(Plane(origin=(0, 301, 0), x_dir=(1, 0, 0), z_dir=(0, 1, 0)).offset(-CUT_EXTRUDE_9_DEPTH_BACK)):
        with Locations(Location((141.898, 122.435, 0), (0, 0, 270))):
            Circle(SKETCH_62_R)
        with Locations(Location((95.935, 161.002, 0), (0, 0, 270))):
            Circle(SKETCH_62_R)
    extrude(amount=CUT_EXTRUDE_9_DEPTH + CUT_EXTRUDE_9_DEPTH_BACK, mode=Mode.SUBTRACT)

    # ｽｹｯﾁ63 → ｶｯﾄ - 押し出し10 (cut, two sides: drawn at the far end of the back side and taken through both)
    with BuildSketch(Plane(origin=(0, 295, 0), x_dir=(1, 0, 0), z_dir=(0, 1, 0)).offset(-CUT_EXTRUDE_10_DEPTH_BACK)):
        with Locations(Location((312, 0, 0), (0, 0, 270))):
            Circle(SKETCH_63_R)
    extrude(amount=CUT_EXTRUDE_10_DEPTH + CUT_EXTRUDE_10_DEPTH_BACK, mode=Mode.SUBTRACT)

    # ｽｹｯﾁ64 → ｶｯﾄ - 押し出し11 (cut, two sides: drawn at the far end of the back side and taken through both)
    with BuildSketch(Plane(origin=(0, 295, 0), x_dir=(1, 0, 0), z_dir=(0, 1, 0)).offset(-CUT_EXTRUDE_11_DEPTH_BACK)):
        with Locations(Location((209.5, 107.5, 0), (0, 0, 270))):
            Circle(SKETCH_64_R)
        with Locations(Location((209.5, -107.5, 0), (0, 0, 270))):
            Circle(SKETCH_64_R)
        with Locations(Location((414.5, 107.5, 0), (0, 0, 270))):
            Circle(SKETCH_64_R)
        with Locations(Location((414.5, -107.5, 0), (0, 0, 270))):
            Circle(SKETCH_64_R)
    extrude(amount=CUT_EXTRUDE_11_DEPTH + CUT_EXTRUDE_11_DEPTH_BACK, mode=Mode.SUBTRACT)

    # ｽｹｯﾁ65 → ｶｯﾄ - 押し出し12 (cut, two sides: drawn at the far end of the back side and taken through both)
    with BuildSketch(Plane(origin=(0, 295, 0), x_dir=(1, 0, 0), z_dir=(0, 1, 0)).offset(-CUT_EXTRUDE_12_DEPTH_BACK)):
        with Locations(Location((464, 15, 0), (0, 0, 270))):
            Circle(SKETCH_65_R)
        with Locations(Location((464, -15, 0), (0, 0, 270))):
            Circle(SKETCH_65_R)
    extrude(amount=CUT_EXTRUDE_12_DEPTH + CUT_EXTRUDE_12_DEPTH_BACK, mode=Mode.SUBTRACT)

    # ｽｹｯﾁ67 → ｶｯﾄ - 押し出し14 (cut)
    with BuildSketch(Plane(origin=(1245, 0, 0), x_dir=(0, 0, -1), z_dir=(1, 0, 0))):
        with Locations((177, 130)):
            Circle(SKETCH_67_R)
        with Locations((177, 240)):
            Circle(SKETCH_67_R)
        with Locations((177, 350)):
            Circle(SKETCH_67_R)
        with Locations((177, 460)):
            Circle(SKETCH_67_R)
        with Locations((-177, 130)):
            Circle(SKETCH_67_R)
        with Locations((-177, 240)):
            Circle(SKETCH_67_R)
        with Locations((-177, 350)):
            Circle(SKETCH_67_R)
        with Locations((-177, 460)):
            Circle(SKETCH_67_R)
        with Locations((59, 130)):
            Circle(SKETCH_67_R)
        with Locations((59, 460)):
            Circle(SKETCH_67_R)
        with Locations((-59, 130)):
            Circle(SKETCH_67_R)
        with Locations((-59, 460)):
            Circle(SKETCH_67_R)
    extrude(amount=CUT_EXTRUDE_14_DEPTH, mode=Mode.SUBTRACT)

    # ｽｹｯﾁ69 → ｶｯﾄ - 押し出し16 (cut)
    with BuildSketch(Plane(origin=(1245, 0, 0), x_dir=(0, 0, -1), z_dir=(1, 0, 0))):
        with Locations((177, 295)):
            Circle(SKETCH_69_R)
        with Locations((-177, 295)):
            Circle(SKETCH_69_R)
    extrude(amount=CUT_EXTRUDE_16_DEPTH, mode=Mode.SUBTRACT)

    # ｽｹｯﾁ71 → ｶｯﾄ - 押し出し18 (cut)
    with BuildSketch(Plane(origin=(1245, 0, 0), x_dir=(0, 0, -1), z_dir=(1, 0, 0))):
        with Locations((0, 342.5)):
            Circle(SKETCH_71_R)
    extrude(amount=CUT_EXTRUDE_18_DEPTH, mode=Mode.SUBTRACT)


solid = part.part
